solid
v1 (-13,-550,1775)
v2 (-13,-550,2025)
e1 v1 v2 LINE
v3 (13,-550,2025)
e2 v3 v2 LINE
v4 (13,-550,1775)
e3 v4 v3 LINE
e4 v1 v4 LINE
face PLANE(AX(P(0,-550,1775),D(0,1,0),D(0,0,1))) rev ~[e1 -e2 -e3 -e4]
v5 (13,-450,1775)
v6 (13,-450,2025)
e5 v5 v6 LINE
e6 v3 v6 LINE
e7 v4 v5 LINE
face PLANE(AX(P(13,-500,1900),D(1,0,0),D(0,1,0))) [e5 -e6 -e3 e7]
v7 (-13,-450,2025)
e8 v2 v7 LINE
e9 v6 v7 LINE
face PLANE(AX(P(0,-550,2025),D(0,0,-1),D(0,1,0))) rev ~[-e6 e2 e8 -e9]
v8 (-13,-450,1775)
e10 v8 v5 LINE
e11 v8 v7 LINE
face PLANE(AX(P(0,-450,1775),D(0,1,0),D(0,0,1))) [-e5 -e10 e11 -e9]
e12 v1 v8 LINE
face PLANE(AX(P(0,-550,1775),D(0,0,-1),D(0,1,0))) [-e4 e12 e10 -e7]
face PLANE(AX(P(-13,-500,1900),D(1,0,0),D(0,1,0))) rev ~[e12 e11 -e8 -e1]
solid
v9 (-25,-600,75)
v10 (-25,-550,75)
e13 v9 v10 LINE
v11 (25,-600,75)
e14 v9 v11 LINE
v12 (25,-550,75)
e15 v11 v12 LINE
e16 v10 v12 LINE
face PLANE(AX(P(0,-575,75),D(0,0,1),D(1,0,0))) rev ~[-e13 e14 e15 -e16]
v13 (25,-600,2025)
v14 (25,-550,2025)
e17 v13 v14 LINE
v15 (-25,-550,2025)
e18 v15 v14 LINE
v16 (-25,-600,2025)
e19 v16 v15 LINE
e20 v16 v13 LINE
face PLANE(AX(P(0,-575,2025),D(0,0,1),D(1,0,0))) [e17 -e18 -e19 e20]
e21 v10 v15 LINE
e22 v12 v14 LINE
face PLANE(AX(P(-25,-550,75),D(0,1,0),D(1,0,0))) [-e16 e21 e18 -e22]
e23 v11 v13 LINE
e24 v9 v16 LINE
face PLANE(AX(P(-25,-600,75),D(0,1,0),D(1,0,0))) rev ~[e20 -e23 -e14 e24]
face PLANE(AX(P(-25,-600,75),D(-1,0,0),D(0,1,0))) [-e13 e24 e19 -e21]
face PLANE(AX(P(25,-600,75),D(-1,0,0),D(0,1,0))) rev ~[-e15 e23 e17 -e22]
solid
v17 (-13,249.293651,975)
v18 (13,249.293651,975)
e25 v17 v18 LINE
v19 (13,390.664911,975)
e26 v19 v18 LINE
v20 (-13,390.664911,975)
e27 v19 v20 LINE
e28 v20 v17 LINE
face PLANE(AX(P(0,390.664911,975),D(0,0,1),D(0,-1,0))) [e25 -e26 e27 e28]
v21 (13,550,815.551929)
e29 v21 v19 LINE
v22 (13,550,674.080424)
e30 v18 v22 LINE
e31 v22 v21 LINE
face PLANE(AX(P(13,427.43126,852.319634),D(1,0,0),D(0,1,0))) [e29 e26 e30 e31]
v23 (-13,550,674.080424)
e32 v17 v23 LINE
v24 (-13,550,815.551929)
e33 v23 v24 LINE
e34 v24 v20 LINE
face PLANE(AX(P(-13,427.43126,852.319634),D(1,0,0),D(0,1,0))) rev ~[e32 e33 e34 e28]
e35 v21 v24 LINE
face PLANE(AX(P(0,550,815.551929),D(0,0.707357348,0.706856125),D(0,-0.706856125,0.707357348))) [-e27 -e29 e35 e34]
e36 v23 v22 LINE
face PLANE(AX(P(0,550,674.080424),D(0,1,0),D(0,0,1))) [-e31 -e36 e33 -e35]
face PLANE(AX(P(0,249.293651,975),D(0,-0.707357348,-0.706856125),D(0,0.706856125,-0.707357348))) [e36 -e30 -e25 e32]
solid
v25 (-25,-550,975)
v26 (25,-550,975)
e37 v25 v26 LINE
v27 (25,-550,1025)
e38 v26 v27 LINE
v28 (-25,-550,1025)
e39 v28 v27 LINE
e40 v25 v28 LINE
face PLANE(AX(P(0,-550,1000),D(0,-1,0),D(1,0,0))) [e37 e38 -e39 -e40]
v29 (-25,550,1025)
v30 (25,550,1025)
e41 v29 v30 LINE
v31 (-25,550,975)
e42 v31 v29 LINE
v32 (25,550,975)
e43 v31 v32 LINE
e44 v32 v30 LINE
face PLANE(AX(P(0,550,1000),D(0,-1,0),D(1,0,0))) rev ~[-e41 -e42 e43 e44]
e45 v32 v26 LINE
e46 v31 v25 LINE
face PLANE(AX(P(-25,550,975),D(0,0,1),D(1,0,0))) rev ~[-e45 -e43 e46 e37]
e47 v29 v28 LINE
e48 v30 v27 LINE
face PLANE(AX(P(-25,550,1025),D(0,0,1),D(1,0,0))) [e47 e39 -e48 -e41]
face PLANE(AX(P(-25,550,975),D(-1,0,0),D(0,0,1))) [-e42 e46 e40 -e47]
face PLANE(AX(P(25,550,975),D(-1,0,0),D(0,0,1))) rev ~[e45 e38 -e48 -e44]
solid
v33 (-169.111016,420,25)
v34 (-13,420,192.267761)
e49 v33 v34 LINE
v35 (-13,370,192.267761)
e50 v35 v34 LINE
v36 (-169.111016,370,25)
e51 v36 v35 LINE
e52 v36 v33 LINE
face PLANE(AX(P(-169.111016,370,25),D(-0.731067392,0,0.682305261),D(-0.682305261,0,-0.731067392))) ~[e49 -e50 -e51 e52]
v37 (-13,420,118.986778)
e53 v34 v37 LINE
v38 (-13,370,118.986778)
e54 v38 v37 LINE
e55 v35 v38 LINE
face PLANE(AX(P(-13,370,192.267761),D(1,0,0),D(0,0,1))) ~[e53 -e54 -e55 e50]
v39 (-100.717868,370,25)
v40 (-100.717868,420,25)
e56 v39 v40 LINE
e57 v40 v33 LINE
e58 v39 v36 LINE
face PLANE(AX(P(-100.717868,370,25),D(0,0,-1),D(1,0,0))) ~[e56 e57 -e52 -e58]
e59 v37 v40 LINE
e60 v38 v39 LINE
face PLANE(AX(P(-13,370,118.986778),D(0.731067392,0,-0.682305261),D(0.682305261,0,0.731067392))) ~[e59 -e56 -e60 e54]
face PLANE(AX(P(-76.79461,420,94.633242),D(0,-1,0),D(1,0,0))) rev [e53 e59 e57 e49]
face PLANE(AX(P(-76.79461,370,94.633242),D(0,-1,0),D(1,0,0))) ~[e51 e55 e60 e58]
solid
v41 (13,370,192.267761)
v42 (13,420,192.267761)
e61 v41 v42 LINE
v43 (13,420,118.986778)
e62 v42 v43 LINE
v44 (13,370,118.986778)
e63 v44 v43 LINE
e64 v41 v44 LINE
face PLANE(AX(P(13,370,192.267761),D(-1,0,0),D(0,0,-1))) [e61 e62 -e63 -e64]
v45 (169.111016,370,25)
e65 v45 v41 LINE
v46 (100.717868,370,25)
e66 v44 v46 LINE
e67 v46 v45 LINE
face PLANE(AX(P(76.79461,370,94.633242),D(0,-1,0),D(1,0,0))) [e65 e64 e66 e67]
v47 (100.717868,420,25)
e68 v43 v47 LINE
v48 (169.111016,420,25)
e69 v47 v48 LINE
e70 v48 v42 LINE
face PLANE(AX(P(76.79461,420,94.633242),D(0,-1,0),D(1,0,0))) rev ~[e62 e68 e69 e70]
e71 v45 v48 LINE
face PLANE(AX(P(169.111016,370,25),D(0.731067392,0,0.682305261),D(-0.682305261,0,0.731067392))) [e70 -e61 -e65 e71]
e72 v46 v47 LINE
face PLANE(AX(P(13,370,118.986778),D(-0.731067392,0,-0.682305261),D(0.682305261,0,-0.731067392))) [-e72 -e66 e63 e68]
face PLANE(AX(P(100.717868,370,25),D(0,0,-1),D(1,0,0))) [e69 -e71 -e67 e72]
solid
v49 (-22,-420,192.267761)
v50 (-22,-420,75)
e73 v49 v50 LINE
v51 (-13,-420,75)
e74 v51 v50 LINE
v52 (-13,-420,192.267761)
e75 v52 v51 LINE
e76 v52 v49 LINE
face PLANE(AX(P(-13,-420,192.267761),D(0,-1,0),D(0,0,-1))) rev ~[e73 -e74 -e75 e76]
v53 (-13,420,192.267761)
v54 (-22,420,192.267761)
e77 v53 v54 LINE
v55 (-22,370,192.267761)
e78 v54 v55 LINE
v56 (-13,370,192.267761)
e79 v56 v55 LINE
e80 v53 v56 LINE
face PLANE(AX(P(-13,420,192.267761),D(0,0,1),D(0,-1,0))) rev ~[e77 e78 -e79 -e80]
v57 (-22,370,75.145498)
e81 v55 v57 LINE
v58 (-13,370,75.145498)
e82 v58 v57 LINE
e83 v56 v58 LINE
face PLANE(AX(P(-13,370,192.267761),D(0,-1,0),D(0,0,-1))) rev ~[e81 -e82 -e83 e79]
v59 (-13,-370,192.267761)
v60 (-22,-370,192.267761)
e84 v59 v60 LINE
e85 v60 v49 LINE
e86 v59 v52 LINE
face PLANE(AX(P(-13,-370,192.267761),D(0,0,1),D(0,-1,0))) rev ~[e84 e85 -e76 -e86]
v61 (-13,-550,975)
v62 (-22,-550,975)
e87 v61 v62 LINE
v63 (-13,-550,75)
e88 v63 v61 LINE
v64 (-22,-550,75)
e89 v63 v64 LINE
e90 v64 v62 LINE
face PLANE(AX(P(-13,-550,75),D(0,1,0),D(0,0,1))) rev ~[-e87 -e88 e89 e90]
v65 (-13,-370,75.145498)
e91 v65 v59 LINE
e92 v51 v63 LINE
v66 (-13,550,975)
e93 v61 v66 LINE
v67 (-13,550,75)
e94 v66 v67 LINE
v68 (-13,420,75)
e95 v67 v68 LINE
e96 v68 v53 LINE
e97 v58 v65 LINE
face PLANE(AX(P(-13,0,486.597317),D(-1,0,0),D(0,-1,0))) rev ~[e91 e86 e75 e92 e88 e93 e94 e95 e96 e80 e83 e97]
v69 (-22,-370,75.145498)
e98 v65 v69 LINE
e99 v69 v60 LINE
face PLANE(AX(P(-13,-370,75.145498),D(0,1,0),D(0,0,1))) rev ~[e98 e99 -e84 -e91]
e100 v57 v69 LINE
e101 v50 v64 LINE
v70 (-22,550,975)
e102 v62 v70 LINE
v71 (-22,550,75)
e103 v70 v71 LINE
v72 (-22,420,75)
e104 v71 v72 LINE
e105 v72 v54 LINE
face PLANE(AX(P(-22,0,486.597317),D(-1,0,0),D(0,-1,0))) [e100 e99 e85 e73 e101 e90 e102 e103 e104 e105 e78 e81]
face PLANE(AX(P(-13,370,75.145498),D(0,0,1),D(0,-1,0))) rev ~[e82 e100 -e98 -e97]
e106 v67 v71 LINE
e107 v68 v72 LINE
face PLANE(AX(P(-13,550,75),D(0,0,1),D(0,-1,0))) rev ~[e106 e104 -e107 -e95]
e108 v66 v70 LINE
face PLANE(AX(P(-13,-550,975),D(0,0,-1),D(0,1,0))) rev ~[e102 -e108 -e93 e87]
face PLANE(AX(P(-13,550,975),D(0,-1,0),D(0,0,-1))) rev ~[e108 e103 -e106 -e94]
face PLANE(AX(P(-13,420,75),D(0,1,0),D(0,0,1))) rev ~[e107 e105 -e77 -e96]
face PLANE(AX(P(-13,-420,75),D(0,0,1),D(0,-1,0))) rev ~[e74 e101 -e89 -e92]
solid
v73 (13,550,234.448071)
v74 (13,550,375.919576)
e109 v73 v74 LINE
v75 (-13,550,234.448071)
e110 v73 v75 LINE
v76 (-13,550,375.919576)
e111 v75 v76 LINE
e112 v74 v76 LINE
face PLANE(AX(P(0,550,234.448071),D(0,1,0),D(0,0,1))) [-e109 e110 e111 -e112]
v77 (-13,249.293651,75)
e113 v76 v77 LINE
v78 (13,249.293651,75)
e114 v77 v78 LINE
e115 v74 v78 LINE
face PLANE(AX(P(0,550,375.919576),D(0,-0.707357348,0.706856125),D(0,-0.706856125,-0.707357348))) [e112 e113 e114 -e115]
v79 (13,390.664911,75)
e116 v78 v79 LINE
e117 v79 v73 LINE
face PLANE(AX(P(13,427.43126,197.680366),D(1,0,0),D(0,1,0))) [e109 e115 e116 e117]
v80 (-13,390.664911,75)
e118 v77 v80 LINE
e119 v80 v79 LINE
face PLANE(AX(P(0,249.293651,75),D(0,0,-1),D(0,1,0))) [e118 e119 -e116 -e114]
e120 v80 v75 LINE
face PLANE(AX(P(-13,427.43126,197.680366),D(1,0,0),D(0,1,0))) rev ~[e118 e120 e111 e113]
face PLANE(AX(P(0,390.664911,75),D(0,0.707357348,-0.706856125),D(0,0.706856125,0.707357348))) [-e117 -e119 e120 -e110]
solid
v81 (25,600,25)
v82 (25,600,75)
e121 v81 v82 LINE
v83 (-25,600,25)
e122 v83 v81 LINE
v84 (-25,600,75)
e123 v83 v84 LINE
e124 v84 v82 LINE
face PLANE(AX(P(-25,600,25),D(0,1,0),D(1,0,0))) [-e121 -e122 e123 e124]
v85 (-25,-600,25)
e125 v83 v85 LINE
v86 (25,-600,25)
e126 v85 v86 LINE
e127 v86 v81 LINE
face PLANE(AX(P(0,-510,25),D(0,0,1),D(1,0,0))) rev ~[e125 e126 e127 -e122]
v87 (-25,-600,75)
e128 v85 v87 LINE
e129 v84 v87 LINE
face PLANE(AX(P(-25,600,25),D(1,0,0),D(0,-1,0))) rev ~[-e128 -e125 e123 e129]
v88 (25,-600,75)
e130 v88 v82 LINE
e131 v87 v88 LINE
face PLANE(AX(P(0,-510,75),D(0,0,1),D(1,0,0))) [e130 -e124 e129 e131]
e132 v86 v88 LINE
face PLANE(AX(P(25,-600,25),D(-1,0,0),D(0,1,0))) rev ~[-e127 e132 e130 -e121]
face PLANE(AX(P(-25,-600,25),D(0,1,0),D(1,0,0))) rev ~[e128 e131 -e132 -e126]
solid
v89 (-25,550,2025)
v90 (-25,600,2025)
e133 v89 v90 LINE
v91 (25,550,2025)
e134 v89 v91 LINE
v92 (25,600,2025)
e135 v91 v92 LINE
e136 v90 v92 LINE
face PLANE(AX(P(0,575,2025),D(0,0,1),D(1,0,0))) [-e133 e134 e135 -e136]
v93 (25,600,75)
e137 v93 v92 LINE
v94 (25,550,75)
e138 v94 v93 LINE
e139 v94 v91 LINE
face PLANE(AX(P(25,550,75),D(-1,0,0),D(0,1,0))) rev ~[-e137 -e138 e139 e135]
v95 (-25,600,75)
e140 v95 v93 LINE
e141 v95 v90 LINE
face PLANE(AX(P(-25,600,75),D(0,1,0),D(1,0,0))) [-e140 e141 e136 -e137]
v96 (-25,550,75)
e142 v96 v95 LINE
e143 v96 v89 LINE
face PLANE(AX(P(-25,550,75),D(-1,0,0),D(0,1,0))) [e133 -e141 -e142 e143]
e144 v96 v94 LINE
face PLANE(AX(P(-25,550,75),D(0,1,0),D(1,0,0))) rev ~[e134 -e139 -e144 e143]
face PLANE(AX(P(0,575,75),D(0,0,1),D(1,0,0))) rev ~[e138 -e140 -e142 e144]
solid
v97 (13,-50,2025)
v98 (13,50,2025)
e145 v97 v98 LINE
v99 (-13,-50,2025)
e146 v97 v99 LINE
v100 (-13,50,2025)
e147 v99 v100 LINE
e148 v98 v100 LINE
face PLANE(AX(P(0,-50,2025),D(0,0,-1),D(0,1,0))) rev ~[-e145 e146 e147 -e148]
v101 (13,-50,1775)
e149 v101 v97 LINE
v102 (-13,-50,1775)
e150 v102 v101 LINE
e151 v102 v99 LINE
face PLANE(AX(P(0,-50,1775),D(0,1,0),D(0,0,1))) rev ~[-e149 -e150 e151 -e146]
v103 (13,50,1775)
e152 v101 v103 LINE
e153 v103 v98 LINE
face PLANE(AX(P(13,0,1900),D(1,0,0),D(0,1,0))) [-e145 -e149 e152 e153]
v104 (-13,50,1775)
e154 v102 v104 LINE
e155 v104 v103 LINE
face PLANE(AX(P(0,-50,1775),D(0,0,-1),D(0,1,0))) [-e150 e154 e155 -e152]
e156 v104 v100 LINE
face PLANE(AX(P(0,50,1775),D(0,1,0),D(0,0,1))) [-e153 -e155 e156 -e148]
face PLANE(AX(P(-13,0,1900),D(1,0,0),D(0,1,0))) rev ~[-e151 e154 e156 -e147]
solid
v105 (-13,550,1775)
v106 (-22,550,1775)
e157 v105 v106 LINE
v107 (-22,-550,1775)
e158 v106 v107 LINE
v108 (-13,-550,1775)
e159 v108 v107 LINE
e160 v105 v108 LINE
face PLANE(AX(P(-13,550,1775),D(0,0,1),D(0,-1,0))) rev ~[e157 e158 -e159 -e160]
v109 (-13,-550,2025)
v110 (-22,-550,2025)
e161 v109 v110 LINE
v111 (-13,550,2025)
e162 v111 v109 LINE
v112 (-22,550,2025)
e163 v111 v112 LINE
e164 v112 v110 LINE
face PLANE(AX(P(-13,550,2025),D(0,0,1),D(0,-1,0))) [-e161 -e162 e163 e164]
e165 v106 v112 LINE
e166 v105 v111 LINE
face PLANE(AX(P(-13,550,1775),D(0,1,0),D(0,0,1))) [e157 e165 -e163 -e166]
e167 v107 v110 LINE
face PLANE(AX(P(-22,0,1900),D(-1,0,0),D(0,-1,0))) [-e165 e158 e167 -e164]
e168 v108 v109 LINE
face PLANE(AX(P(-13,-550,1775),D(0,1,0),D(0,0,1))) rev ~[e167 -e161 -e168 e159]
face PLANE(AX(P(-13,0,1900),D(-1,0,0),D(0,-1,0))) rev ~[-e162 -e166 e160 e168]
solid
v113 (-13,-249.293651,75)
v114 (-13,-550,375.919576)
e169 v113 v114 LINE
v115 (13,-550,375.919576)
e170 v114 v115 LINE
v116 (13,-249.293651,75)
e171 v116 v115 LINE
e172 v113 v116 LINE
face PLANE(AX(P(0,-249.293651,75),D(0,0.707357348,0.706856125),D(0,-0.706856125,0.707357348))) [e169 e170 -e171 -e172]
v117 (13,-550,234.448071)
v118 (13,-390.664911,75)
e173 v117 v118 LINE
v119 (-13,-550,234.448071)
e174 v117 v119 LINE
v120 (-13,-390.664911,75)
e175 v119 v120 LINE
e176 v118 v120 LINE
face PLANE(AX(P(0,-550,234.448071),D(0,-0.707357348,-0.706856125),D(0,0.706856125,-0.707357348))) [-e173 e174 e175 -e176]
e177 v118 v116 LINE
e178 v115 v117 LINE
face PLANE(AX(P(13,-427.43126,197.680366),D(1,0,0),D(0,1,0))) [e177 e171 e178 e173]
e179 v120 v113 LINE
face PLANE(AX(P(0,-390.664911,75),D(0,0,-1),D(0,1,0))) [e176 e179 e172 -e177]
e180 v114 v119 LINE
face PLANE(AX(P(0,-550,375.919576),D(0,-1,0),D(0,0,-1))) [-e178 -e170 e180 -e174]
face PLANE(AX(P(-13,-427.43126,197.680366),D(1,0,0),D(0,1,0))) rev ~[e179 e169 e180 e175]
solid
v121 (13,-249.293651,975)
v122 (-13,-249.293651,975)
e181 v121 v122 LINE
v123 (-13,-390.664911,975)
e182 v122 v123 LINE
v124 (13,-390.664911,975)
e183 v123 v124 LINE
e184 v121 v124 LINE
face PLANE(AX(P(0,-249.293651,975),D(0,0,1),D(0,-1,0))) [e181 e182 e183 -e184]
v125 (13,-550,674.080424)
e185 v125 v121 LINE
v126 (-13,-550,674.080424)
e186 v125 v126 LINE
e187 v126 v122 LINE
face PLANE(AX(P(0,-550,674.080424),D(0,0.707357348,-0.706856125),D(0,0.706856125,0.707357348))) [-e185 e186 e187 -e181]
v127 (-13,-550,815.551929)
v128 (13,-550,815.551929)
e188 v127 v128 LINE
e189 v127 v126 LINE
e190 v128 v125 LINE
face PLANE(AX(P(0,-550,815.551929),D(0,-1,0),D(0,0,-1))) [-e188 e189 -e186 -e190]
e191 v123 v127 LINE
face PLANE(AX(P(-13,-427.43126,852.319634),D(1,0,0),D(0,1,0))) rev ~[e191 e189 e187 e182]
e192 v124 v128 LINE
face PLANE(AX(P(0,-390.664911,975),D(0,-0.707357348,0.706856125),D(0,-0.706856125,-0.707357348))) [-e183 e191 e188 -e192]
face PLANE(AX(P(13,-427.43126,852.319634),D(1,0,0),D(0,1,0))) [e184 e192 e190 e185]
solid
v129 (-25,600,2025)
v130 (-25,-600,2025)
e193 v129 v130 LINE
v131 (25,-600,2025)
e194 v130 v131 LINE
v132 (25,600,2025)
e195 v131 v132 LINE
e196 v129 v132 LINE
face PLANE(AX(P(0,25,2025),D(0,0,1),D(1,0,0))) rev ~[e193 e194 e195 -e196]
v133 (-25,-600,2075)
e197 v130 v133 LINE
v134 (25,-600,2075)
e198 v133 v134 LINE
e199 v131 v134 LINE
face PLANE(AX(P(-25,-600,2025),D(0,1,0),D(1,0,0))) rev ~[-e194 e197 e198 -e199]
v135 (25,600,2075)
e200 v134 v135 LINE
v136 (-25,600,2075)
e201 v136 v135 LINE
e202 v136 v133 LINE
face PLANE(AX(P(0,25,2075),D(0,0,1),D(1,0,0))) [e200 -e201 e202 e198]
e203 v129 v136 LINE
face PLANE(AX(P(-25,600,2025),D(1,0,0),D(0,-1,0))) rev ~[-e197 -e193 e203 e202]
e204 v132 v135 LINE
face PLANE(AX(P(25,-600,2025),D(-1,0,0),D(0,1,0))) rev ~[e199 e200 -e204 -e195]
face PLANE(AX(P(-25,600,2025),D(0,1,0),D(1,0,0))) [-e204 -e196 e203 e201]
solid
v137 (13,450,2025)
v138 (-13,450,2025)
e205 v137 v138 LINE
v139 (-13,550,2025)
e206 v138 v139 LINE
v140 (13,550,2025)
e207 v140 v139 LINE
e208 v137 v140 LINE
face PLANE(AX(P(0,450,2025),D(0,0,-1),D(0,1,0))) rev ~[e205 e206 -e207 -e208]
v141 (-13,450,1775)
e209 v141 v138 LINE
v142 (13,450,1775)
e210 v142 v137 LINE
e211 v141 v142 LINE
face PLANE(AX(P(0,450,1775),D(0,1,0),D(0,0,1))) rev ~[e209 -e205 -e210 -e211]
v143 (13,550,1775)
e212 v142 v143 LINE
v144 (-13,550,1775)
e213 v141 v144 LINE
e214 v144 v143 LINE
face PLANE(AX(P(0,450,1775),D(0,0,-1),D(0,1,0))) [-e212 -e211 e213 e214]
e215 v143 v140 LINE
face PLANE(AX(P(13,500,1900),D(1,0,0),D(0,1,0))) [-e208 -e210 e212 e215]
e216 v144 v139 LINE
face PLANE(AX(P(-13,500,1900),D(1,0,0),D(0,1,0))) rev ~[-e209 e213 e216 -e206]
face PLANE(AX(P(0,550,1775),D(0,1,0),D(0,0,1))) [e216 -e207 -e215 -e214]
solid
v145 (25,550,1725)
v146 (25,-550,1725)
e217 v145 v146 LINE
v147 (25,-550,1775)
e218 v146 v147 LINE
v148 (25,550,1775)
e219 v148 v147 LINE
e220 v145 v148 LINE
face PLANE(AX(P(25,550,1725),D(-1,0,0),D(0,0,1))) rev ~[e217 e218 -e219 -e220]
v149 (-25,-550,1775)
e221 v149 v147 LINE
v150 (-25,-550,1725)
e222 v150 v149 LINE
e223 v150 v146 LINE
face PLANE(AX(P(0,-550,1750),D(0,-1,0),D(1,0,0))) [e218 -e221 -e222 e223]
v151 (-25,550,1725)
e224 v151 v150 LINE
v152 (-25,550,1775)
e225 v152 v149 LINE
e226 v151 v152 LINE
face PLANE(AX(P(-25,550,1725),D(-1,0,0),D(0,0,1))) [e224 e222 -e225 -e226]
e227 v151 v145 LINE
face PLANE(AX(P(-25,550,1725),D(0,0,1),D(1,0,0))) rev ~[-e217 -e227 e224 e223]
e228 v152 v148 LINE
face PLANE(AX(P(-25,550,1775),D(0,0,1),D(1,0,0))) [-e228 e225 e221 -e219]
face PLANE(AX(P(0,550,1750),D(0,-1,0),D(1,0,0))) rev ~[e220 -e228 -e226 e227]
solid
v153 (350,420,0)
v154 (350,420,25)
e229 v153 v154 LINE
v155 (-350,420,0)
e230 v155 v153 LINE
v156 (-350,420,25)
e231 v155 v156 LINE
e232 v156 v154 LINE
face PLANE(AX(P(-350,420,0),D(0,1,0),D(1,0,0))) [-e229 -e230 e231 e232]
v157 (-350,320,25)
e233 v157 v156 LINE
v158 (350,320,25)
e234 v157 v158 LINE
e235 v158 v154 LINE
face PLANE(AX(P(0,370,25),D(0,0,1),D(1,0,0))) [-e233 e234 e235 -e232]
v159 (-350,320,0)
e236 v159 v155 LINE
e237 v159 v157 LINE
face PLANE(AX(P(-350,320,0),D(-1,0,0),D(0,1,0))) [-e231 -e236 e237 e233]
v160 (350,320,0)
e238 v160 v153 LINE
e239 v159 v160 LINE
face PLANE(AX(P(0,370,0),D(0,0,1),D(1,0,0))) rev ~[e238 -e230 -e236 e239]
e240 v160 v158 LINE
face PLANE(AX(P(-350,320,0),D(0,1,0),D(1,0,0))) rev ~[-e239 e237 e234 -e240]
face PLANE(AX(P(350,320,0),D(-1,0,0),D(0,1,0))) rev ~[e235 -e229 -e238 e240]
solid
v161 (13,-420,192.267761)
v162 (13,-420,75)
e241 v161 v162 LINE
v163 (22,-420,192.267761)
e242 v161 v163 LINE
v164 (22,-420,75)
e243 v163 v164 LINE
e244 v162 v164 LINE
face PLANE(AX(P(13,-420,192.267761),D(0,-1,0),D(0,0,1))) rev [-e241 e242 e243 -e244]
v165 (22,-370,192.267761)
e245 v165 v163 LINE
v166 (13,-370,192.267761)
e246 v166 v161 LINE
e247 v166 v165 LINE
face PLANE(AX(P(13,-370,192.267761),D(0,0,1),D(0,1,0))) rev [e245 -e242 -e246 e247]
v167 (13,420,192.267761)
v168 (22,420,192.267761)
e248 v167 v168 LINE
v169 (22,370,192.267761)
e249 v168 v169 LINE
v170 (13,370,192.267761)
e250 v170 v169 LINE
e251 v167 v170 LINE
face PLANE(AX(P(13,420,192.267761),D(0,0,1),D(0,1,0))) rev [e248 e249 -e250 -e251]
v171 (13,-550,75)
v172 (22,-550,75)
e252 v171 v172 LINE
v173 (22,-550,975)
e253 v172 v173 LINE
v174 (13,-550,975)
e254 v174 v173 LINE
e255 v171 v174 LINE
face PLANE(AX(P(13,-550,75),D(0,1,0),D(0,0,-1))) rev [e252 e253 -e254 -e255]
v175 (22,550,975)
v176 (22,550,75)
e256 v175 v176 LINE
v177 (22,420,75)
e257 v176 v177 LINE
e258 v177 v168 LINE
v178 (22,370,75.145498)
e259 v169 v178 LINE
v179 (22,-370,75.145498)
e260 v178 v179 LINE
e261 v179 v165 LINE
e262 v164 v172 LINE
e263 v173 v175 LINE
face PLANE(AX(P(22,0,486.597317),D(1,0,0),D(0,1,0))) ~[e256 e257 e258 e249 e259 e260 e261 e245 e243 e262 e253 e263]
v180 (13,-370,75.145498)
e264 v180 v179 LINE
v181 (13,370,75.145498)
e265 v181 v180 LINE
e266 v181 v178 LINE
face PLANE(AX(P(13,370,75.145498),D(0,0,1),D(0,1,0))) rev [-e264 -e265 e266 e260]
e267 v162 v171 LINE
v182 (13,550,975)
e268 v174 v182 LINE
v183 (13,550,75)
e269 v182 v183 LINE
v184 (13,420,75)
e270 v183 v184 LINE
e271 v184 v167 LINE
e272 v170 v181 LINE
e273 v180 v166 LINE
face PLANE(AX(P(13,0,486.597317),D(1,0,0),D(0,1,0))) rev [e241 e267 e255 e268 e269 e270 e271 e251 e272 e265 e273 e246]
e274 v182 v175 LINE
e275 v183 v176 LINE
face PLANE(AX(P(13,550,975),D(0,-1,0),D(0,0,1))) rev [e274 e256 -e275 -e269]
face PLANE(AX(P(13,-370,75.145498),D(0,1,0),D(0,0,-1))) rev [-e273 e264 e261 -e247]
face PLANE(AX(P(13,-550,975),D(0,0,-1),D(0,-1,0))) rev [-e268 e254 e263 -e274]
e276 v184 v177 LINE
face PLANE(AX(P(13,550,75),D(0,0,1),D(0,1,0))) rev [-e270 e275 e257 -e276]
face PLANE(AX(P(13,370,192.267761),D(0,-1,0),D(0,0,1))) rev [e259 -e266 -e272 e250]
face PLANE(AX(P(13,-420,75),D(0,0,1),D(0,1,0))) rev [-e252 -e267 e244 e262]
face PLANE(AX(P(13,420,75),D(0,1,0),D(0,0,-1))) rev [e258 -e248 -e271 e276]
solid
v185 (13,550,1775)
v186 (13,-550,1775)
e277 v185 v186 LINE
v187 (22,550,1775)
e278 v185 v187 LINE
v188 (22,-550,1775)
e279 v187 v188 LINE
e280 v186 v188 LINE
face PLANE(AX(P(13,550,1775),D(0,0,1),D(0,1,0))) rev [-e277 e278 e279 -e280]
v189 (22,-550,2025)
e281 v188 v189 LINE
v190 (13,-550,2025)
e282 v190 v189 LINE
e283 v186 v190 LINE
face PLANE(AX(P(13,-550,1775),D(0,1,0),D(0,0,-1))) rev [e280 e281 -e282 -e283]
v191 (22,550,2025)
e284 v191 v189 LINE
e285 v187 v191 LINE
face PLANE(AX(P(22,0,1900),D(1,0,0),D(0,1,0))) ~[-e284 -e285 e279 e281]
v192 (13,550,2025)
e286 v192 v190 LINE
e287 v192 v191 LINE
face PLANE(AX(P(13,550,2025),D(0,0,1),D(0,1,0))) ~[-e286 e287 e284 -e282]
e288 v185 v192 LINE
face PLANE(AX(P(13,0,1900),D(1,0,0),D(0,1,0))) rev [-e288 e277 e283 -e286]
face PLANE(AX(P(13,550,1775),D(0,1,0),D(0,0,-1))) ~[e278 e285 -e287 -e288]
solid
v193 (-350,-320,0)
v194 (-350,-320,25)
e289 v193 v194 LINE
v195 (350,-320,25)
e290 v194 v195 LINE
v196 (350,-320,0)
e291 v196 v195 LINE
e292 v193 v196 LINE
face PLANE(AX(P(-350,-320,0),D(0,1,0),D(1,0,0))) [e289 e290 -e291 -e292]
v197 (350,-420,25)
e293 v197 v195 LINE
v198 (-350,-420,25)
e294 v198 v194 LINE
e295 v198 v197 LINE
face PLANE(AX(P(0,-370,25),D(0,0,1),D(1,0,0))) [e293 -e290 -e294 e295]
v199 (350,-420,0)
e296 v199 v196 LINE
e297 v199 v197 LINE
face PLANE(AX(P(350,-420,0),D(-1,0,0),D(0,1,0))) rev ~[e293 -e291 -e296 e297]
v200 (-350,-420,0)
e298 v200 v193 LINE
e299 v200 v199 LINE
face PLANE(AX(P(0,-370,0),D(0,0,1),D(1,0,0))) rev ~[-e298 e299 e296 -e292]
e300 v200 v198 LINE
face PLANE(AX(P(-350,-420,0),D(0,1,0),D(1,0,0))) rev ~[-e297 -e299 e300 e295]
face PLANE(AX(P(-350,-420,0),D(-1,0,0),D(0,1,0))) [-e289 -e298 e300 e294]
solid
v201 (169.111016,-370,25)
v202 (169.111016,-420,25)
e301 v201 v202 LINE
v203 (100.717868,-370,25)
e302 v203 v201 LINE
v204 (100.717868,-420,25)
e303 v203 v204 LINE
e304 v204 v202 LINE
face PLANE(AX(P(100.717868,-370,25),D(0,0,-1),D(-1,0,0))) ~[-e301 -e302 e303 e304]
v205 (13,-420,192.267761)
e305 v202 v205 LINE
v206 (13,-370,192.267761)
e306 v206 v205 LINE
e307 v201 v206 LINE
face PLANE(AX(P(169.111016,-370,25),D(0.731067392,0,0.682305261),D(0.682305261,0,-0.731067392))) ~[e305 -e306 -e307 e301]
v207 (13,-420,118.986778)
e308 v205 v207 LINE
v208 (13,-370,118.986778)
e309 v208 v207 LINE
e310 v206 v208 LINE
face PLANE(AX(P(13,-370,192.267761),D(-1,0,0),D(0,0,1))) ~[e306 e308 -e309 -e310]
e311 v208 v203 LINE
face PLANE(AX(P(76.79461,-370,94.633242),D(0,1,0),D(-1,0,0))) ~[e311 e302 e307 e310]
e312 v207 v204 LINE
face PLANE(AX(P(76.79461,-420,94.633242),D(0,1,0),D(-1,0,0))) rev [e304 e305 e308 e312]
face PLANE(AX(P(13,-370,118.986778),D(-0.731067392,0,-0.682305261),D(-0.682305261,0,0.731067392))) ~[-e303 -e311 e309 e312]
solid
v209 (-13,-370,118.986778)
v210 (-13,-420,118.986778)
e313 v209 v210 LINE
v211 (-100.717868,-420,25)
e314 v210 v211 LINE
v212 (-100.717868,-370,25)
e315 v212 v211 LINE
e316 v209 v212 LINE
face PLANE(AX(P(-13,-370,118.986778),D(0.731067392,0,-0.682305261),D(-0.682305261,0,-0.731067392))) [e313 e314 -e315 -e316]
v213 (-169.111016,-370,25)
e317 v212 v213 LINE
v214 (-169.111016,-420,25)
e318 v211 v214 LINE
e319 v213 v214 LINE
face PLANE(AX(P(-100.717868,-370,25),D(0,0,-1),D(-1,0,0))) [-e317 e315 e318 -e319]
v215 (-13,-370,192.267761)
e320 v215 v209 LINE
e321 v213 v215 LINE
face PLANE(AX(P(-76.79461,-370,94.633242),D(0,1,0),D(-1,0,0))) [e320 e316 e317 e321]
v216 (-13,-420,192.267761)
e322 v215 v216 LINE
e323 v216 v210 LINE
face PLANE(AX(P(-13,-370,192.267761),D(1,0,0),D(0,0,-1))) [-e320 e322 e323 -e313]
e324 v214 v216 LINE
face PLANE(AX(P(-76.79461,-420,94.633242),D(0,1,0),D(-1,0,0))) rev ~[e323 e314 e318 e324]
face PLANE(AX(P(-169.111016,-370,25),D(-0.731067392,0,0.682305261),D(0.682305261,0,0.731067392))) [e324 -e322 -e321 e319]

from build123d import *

# Parameters (mm, degrees)
F0_W           = 700
F0_H           = 100
F1_DEPTH       = 25
F3_W           = 50
F3_H           = 180
F3_H_2         = 100
F3_H_3         = 920
F4_DEPTH       = 50
F7_W           = 50
F7_H           = 50
F8_DEPTH       = 1950
F9_W           = 50
F9_H           = 1150
F9_H_2         = 50
F10_DEPTH      = 50
F11_W          = 50
F11_H          = 50
F12_DEPTH      = 1100
F14_DEPTH      = 13
F14_DEPTH_BACK = 13
F13_W          = 100
F13_H          = 250
F17_DEPTH      = 50
F21_DEPTH      = 9
F20_W          = 1100
F20_H          = 250


with BuildPart() as f1:
    # F0 (on Top) → F1 (new body)
    with BuildSketch(Plane.XY):
        with Locations((0, 370)):
            Rectangle(F0_W, F0_H)
    extrude(amount=F1_DEPTH)


with BuildPart() as f1b:
    # F0 (on Top) → F1, piece 2 (new body)
    with BuildSketch(Plane.XY):
        with Locations((0, -370)):
            Rectangle(F0_W, F0_H)
    extrude(amount=F1_DEPTH)


with BuildPart() as f4:
    # F3 (on face) → F4 (new body)
    with BuildSketch(Plane.XY.offset(25)):
        with Locations((0, -510)):
            Rectangle(F3_W, F3_H)
        with Locations((0, -370)):
            Rectangle(F3_W, F3_H_2)
        with Locations((0, 140)):
            Rectangle(F3_W, F3_H_3)
    extrude(amount=F4_DEPTH)


with BuildPart() as f8:
    # F7 (on face) → F8 (new body)
    with BuildSketch(Plane.XY.offset(75)):
        with Locations((0, -575)):
            Rectangle(F7_W, F7_H)
    extrude(amount=F8_DEPTH)


with BuildPart() as f8b:
    # F7 (on face) → F8, piece 2 (new body)
    with BuildSketch(Plane.XY.offset(75)):
        with Locations((0, 575)):
            Rectangle(F7_W, F7_H)
    extrude(amount=F8_DEPTH)


with BuildPart() as f10:
    # F9 (on face) → F10 (new body)
    with BuildSketch(Plane.XY.offset(2025)):
        with Locations((0, 25)):
            Rectangle(F9_W, F9_H)
        with Locations((0, -575)):
            Rectangle(F9_W, F9_H_2)
    extrude(amount=F10_DEPTH)


with BuildPart() as f12:
    # F11 (on face) → F12 (new body)
    with BuildSketch(Plane.XZ.offset(-550)):
        with Locations((0, 1000)):
            Rectangle(F11_W, F11_H)
    extrude(amount=F12_DEPTH)


with BuildPart() as f12b:
    # F11 (on face) → F12, piece 2 (new body)
    with BuildSketch(Plane.XZ.offset(-550)):
        with Locations((0, 1750)):
            Rectangle(F11_W, F11_H)
    extrude(amount=F12_DEPTH)


with BuildPart() as f14:
    # F13 (on Right) → F14 (new body, two sides)
    with BuildSketch(Plane.YZ) as f14_sk:
        Polygon((-249.2936508852, 975), (-390.6649114874, 975), (-550, 815.5519290026), (-550, 674.0804238375), align=None)
    extrude(amount=F14_DEPTH)
    extrude(f14_sk.sketch, amount=-F14_DEPTH_BACK)


with BuildPart() as f14b:
    # F13 (on Right) → F14, piece 2 (new body, two sides)
    with BuildSketch(Plane.YZ) as f14_2_sk:
        Polygon((390.6649114874, 975), (249.2936508852, 975), (550, 674.0804238375), (550, 815.5519290026), align=None)
    extrude(amount=F14_DEPTH)
    extrude(f14_2_sk.sketch, amount=-F14_DEPTH_BACK)


with BuildPart() as f14c:
    # F13 (on Right) → F14, piece 3 (new body, two sides)
    with BuildSketch(Plane.YZ) as f14_3_sk:
        Polygon((-390.6649114874, 75), (-249.2936508852, 75), (-550, 375.9195761625), (-550, 234.4480709974), align=None)
    extrude(amount=F14_DEPTH)
    extrude(f14_3_sk.sketch, amount=-F14_DEPTH_BACK)


with BuildPart() as f14d:
    # F13 (on Right) → F14, piece 4 (new body, two sides)
    with BuildSketch(Plane.YZ) as f14_4_sk:
        Polygon((550, 375.9195761625), (249.2936508852, 75), (390.6649114874, 75), (550, 234.4480709974), align=None)
    extrude(amount=F14_DEPTH)
    extrude(f14_4_sk.sketch, amount=-F14_DEPTH_BACK)


with BuildPart() as f14e:
    # F13 (on Right) → F14, piece 5 (new body, two sides)
    with BuildSketch(Plane.YZ) as f14_5_sk:
        with Locations((500, 1900)):
            Rectangle(F13_W, F13_H)
    extrude(amount=F14_DEPTH)
    extrude(f14_5_sk.sketch, amount=-F14_DEPTH_BACK)


with BuildPart() as f14f:
    # F13 (on Right) → F14, piece 6 (new body, two sides)
    with BuildSketch(Plane.YZ) as f14_6_sk:
        with Locations((-500, 1900)):
            Rectangle(F13_W, F13_H)
    extrude(amount=F14_DEPTH)
    extrude(f14_6_sk.sketch, amount=-F14_DEPTH_BACK)


with BuildPart() as f14g:
    # F13 (on Right) → F14, piece 7 (new body, two sides)
    with BuildSketch(Plane.YZ) as f14_7_sk:
        with Locations((0, 1900)):
            Rectangle(F13_W, F13_H)
    extrude(amount=F14_DEPTH)
    extrude(f14_7_sk.sketch, amount=-F14_DEPTH_BACK)


with BuildPart() as f17:
    # F16 (on offset) → F17 (new body)
    with BuildSketch(Plane.XZ.offset(-370)):
        Polygon((13, 118.9867779613), (100.7178681435, 25), (169.1110157222, 25), (13, 192.2677606344), align=None)
    extrude(amount=-F17_DEPTH)


with BuildPart() as f18_1:
    # F18: instance of F17
    add(f17.part.mirror(Plane.XZ))


with BuildPart() as f19_1:
    # F19: instance of F18_1
    add(f18_1.part.mirror(Plane.YZ))


with BuildPart() as f19_2:
    # F19: instance of F17
    add(f17.part.mirror(Plane.YZ))


with BuildPart() as f21:
    # F20 (on face) → F21 (new body)
    with BuildSketch(Plane(origin=(-13, 0, 0), x_dir=(0, -1, 0), z_dir=(-1, 0, 0))):
        Polygon((550, 75), (550, 975), (-550, 975), (-550, 75), (-420, 75), (-420, 192.2677606344), (-370, 192.2677606344), (-370, 75.1454979181), (370, 75.1454979181), (370, 192.2677606344), (420, 192.2677606344), (420, 75), align=None)
    extrude(amount=F21_DEPTH)


with BuildPart() as f21b:
    # F20 (on face) → F21, piece 2 (new body)
    with BuildSketch(Plane(origin=(-13, 0, 0), x_dir=(0, -1, 0), z_dir=(-1, 0, 0))):
        with Locations((0, 1900)):
            Rectangle(F20_W, F20_H)
    extrude(amount=F21_DEPTH)


with BuildPart() as f22_1:
    # F22: instance of F21
    add(f21.part.mirror(Plane.YZ))


with BuildPart() as f22_2:
    # F22: instance of F21b
    add(f21b.part.mirror(Plane.YZ))


solid = Compound([f1.part, f1b.part, f4.part, f8.part, f8b.part, f10.part, f12.part, f12b.part, f14.part, f14b.part, f14c.part, f14d.part, f14e.part, f14f.part, f14g.part, f17.part, f18_1.part, f19_1.part, f19_2.part, f21.part, f21b.part, f22_1.part, f22_2.part])
